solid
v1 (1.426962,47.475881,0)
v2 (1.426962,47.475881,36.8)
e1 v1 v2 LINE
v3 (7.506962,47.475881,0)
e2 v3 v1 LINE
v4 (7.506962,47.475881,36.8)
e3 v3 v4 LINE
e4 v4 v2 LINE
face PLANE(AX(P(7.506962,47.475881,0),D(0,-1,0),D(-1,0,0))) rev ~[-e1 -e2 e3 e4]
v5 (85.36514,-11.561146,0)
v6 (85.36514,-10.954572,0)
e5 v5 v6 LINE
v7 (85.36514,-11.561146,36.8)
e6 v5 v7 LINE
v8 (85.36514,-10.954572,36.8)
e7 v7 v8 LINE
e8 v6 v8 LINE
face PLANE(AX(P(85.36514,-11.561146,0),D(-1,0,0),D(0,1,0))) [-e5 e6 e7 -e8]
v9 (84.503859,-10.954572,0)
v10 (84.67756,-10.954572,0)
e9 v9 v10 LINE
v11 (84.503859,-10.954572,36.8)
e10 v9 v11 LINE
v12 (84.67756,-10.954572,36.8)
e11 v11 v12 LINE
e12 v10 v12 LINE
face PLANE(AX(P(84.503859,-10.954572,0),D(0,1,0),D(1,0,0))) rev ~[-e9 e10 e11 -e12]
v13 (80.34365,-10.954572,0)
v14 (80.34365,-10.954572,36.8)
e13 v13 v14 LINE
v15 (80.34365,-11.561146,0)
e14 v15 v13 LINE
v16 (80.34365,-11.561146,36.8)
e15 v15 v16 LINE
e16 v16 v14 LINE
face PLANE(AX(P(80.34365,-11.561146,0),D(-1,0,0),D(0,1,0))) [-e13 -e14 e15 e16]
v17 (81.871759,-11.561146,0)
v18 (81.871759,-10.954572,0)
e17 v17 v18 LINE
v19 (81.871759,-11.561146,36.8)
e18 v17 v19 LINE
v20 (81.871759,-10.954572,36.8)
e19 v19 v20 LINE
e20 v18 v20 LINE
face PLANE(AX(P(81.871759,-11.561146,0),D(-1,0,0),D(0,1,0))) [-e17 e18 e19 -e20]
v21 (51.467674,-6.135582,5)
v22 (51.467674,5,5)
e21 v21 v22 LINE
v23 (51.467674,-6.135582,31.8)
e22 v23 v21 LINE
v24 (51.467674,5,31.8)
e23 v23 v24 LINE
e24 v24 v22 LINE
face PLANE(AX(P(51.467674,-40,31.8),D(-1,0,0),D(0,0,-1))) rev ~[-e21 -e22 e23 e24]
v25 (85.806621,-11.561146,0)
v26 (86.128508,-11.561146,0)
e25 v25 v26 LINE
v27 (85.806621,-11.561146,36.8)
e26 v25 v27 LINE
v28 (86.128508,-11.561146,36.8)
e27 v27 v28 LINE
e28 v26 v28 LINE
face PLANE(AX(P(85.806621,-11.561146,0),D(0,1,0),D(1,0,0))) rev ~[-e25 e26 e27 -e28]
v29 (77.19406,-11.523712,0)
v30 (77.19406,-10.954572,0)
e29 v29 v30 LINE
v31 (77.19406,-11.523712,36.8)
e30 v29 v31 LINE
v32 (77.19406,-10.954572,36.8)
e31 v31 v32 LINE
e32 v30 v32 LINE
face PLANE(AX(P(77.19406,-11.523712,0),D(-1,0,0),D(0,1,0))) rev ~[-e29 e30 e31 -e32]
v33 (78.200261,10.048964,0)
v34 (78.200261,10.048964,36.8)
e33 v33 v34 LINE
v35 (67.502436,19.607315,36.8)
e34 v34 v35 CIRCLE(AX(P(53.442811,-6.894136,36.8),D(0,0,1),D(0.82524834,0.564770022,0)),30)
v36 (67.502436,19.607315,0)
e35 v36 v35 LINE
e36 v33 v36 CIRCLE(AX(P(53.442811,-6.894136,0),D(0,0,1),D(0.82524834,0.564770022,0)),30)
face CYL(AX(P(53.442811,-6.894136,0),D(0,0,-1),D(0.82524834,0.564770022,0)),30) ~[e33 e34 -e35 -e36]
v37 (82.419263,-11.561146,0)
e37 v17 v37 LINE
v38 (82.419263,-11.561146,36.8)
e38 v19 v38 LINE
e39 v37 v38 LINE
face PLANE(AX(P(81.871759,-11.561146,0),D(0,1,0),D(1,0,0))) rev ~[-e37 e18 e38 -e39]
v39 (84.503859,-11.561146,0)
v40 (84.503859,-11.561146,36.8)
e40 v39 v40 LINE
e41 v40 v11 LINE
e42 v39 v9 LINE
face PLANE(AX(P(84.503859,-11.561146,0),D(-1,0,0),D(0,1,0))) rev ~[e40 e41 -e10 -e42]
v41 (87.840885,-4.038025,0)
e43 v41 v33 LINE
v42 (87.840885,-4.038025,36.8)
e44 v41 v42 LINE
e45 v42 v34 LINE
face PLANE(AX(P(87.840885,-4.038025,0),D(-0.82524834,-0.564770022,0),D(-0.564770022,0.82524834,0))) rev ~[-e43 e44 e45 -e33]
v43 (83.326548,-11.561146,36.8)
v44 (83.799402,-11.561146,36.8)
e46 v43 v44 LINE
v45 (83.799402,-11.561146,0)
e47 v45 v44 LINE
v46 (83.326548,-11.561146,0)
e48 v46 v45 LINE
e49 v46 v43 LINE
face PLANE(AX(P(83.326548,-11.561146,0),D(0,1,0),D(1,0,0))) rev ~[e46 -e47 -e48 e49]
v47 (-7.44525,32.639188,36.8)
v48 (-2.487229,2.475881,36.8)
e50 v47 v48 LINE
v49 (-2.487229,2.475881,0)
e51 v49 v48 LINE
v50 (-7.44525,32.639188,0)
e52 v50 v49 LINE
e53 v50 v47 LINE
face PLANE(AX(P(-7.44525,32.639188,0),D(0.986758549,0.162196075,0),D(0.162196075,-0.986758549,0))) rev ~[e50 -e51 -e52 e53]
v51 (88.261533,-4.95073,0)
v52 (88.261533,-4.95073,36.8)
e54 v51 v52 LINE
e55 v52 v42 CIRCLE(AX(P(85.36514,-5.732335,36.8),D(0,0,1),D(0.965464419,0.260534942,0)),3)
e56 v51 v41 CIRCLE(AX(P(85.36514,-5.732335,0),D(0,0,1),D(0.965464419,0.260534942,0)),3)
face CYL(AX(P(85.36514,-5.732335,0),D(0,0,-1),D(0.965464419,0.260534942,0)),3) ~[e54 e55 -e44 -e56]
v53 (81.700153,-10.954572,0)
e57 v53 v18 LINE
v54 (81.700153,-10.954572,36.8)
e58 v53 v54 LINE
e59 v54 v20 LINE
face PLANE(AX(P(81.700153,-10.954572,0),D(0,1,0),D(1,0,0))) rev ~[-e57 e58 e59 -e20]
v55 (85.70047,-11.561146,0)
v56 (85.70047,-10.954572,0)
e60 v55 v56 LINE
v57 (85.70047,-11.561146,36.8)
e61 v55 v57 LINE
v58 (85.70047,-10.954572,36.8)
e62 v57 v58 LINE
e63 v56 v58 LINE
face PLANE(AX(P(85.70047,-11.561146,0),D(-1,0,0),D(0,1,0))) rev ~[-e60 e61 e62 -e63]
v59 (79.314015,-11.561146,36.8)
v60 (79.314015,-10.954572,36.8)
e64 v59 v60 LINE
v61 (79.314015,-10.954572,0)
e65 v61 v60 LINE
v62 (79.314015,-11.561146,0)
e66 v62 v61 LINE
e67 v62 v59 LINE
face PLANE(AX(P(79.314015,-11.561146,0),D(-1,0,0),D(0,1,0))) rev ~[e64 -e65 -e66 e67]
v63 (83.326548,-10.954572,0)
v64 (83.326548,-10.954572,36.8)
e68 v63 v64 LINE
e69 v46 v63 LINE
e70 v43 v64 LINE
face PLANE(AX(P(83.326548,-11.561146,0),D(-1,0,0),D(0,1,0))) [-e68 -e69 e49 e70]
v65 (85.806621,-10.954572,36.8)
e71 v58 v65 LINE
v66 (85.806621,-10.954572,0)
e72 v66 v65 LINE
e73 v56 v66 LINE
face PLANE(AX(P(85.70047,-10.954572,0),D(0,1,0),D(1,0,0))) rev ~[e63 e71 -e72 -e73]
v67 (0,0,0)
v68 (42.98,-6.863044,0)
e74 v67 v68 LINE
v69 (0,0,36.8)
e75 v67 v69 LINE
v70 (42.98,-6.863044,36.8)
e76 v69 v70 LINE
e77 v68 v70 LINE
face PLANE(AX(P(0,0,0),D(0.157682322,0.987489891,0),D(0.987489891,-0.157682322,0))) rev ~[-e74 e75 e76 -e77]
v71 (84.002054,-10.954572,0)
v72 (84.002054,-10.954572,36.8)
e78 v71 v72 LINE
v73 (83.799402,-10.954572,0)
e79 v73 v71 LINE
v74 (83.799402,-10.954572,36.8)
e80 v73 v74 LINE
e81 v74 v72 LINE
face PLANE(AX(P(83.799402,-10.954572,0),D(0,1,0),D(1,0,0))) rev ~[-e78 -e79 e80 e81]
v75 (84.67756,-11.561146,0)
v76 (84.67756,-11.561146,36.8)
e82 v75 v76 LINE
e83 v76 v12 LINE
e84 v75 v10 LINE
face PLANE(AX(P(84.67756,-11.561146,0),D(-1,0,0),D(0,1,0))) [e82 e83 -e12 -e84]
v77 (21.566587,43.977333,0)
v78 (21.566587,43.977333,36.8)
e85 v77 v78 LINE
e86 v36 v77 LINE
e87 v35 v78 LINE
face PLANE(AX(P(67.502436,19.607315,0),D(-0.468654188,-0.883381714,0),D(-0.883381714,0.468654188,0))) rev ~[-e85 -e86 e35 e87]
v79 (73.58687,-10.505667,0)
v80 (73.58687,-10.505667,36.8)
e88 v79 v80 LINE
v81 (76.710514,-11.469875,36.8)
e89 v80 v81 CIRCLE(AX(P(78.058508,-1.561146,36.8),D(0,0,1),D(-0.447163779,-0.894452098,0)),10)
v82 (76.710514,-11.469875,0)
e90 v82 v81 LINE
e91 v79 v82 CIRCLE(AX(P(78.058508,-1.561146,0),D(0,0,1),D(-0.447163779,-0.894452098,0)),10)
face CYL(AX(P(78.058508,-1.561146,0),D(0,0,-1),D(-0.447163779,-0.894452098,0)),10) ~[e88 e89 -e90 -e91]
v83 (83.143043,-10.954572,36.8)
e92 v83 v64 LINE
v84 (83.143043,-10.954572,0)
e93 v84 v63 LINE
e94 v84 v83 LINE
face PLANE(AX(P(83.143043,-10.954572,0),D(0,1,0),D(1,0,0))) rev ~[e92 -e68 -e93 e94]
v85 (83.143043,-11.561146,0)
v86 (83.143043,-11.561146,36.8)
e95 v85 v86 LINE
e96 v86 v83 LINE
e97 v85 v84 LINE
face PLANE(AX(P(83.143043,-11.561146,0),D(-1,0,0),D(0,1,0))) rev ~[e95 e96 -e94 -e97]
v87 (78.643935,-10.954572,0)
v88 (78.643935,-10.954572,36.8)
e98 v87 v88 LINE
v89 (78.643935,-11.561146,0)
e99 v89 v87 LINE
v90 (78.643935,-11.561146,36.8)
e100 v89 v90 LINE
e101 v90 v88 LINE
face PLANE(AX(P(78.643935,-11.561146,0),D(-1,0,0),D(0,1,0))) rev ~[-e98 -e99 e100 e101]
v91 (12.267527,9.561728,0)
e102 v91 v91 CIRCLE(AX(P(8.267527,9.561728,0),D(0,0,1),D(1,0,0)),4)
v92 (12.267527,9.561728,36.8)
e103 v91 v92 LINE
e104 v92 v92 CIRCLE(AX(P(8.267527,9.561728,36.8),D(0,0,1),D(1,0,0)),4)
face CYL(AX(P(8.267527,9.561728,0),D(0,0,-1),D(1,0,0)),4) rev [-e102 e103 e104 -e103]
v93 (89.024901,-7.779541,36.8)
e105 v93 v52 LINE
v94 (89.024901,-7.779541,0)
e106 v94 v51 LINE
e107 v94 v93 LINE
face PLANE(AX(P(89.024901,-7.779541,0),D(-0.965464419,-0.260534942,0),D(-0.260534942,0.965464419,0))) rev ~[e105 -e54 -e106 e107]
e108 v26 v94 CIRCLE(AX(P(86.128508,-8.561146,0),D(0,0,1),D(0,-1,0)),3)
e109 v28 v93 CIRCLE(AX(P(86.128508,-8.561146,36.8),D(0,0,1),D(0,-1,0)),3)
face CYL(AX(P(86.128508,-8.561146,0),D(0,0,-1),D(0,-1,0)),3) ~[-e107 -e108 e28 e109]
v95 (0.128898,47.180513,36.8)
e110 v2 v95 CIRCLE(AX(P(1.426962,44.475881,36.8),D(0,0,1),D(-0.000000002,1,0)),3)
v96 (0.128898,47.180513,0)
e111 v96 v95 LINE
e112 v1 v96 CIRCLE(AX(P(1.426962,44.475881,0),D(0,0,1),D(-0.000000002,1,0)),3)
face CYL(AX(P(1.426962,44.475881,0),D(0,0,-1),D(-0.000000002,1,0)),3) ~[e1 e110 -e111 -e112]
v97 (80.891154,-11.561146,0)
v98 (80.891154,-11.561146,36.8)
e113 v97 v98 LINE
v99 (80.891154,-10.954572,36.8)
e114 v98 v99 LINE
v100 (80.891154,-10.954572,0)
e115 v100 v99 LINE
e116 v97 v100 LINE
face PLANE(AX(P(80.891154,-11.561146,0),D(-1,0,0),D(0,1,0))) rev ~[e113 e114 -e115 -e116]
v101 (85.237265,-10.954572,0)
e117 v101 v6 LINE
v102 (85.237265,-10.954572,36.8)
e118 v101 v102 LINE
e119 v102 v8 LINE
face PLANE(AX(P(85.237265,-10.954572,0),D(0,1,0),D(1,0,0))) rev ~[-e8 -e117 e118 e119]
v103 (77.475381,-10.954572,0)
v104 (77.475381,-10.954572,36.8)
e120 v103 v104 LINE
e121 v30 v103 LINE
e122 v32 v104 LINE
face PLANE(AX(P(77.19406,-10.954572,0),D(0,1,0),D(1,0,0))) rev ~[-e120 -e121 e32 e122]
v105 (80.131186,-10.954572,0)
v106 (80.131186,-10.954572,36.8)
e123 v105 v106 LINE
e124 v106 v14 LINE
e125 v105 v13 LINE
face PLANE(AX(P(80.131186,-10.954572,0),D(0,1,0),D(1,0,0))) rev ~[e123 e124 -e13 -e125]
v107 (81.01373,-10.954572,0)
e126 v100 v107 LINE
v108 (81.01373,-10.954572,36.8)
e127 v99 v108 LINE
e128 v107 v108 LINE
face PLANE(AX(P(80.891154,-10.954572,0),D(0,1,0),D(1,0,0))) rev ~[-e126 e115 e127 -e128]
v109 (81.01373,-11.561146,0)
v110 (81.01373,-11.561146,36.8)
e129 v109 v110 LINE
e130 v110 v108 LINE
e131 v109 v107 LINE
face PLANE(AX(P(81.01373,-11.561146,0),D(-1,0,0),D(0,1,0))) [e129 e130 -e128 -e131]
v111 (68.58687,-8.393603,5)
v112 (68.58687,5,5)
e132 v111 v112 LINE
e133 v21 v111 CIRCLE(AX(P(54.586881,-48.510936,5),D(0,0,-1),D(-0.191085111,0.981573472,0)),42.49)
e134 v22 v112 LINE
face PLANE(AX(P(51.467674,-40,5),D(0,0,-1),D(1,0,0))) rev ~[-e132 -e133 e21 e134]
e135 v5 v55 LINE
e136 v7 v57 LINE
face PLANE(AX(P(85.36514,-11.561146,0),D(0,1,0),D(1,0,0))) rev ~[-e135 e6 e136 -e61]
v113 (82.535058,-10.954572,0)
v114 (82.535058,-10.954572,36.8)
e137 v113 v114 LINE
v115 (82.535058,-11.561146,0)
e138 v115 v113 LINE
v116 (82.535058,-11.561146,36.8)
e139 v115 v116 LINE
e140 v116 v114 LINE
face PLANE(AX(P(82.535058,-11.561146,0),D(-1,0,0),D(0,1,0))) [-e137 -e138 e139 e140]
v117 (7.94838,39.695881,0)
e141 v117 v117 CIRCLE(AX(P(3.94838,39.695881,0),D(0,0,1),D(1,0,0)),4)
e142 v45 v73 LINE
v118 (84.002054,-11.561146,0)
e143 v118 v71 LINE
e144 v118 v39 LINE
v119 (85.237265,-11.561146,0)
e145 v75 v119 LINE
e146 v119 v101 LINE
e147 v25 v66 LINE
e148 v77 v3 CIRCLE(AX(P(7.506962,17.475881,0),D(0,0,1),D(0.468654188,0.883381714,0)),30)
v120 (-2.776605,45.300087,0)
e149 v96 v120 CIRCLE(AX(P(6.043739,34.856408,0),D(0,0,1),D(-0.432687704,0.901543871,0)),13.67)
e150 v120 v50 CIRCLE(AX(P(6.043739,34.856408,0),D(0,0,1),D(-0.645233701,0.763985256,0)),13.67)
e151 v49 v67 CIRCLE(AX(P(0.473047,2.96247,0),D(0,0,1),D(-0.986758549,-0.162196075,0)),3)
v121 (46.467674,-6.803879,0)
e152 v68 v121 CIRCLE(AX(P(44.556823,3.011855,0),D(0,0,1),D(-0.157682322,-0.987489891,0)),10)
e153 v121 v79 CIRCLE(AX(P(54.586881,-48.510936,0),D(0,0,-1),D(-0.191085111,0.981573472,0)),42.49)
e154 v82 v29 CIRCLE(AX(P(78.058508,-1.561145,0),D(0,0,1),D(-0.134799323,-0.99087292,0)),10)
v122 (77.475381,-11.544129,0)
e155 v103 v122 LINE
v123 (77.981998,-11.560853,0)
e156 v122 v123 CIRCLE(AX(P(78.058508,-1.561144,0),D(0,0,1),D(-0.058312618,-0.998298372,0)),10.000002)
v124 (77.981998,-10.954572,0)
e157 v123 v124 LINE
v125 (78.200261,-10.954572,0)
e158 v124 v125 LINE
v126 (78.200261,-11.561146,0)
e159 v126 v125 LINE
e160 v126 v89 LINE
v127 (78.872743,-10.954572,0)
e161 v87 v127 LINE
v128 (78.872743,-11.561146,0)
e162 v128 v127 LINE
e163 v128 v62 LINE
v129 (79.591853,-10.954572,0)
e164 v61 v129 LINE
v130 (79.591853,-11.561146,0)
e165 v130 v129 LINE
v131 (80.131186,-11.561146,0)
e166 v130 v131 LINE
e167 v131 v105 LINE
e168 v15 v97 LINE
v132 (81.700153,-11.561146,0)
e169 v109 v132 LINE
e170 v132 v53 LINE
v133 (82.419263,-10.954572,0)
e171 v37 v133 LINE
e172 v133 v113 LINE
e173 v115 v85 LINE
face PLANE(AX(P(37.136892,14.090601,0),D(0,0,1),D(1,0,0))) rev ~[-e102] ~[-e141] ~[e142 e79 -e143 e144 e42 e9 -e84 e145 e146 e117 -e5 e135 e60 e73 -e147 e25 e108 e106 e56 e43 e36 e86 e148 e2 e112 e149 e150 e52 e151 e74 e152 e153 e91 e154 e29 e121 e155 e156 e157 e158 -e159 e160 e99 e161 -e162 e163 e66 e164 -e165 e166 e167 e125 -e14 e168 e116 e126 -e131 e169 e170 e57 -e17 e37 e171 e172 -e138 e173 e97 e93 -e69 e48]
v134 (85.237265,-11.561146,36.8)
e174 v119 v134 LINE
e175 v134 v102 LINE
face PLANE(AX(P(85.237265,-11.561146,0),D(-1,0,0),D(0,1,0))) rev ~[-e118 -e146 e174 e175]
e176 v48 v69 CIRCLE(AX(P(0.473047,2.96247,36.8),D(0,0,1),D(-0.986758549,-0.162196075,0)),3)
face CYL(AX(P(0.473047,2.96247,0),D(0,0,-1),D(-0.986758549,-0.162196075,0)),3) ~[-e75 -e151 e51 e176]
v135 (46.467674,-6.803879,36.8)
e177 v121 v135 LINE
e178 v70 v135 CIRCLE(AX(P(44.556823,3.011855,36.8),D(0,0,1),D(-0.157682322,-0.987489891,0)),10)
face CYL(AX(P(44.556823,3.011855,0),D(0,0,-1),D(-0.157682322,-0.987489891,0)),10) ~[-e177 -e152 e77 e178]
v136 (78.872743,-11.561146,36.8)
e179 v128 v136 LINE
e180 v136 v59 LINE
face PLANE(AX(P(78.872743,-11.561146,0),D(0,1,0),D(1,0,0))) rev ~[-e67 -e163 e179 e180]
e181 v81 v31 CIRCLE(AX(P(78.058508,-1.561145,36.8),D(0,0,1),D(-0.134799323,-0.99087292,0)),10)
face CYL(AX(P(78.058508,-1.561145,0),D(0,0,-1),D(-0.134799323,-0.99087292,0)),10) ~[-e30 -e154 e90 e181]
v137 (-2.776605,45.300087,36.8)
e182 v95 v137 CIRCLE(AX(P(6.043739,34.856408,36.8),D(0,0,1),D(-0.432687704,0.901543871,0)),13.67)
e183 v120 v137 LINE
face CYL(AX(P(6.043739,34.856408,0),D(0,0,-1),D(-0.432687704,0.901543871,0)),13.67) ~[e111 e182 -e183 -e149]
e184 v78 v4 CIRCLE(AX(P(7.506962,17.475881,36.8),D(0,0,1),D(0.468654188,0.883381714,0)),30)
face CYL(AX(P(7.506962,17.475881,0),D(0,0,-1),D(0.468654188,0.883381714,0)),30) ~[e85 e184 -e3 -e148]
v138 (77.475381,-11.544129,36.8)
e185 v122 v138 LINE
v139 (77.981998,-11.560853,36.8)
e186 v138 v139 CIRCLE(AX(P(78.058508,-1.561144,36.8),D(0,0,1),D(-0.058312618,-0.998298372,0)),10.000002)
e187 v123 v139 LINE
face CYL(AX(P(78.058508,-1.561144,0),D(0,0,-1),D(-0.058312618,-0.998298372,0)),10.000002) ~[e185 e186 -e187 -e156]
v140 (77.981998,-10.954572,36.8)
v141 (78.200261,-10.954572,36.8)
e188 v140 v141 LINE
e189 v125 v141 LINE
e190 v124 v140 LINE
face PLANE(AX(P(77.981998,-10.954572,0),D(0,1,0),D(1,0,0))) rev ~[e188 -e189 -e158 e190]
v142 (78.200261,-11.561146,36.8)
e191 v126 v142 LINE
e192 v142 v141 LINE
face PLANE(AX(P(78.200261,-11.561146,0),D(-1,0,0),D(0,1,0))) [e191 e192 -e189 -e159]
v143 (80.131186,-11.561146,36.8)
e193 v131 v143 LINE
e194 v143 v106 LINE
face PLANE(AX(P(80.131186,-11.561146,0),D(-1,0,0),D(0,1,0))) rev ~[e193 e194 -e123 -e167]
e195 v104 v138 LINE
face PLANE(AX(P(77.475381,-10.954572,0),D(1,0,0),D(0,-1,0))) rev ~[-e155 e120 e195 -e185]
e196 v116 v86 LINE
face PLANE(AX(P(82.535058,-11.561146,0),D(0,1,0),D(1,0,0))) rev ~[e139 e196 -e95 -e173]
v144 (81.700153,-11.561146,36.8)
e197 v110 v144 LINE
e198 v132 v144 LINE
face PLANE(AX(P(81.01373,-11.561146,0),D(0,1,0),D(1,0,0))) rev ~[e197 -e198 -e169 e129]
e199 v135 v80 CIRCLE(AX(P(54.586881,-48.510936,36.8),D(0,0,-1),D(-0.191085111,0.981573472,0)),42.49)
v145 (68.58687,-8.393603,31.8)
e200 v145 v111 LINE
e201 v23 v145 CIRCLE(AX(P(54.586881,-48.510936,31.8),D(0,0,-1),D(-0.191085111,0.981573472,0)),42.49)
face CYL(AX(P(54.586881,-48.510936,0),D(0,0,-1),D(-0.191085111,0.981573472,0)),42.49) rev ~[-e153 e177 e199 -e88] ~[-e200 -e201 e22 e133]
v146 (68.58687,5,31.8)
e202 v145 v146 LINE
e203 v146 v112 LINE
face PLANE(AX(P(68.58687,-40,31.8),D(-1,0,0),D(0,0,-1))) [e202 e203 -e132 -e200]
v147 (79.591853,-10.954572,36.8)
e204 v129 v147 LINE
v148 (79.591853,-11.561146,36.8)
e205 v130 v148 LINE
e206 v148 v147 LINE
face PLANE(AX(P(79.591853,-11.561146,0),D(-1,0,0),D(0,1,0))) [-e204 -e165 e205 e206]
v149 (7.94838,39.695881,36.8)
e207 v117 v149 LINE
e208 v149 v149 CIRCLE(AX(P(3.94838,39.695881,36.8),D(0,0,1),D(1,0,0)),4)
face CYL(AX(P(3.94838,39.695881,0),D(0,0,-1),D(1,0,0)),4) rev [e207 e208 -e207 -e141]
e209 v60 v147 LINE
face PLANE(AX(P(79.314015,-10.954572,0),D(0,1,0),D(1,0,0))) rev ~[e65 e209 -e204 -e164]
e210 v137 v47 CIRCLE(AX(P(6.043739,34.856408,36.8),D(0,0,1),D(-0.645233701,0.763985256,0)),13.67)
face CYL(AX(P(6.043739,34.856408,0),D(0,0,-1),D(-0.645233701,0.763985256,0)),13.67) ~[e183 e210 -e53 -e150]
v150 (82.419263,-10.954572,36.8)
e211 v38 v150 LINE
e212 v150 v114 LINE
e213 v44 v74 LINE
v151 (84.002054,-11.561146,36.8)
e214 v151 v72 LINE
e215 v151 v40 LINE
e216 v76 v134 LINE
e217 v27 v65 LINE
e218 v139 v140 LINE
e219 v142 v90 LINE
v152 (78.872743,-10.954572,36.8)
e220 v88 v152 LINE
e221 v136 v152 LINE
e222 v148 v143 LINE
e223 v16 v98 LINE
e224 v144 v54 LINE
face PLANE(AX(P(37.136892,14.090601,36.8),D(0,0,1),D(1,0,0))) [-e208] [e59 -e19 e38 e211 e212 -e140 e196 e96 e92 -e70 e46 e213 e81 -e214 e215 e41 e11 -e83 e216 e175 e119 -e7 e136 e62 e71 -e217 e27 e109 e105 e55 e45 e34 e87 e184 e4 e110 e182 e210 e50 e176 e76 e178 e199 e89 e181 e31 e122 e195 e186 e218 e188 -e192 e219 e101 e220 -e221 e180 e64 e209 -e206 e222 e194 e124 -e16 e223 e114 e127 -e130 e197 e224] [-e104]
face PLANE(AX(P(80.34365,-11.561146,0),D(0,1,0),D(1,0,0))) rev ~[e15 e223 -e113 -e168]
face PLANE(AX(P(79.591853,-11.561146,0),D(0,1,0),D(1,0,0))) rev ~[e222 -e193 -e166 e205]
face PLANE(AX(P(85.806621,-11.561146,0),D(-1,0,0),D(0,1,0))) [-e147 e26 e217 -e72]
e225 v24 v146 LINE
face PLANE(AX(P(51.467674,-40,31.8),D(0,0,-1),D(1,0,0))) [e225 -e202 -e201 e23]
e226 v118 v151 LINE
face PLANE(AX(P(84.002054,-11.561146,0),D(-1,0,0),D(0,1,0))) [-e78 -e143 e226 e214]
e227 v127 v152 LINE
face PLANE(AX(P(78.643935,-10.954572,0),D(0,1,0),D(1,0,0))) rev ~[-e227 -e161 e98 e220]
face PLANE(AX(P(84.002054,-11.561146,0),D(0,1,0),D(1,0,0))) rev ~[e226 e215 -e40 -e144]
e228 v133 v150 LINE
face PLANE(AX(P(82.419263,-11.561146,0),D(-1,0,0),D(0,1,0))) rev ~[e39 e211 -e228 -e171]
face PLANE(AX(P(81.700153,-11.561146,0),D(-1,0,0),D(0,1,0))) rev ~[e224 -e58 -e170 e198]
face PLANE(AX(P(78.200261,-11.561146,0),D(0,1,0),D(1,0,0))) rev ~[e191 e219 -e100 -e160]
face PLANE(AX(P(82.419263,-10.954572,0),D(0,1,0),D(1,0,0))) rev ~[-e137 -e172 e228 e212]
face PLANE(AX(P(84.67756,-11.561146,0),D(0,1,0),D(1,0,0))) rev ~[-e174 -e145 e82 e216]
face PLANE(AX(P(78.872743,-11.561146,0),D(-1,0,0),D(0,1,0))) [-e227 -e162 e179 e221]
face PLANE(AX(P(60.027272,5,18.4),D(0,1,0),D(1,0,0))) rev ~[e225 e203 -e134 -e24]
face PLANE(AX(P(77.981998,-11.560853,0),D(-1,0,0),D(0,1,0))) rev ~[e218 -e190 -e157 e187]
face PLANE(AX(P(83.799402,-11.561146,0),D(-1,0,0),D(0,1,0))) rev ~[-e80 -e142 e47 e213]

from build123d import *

# Parameters (mm, degrees)
SKETCH1_R           = 4
SKETCH1_W           = 0.443674292
SKETCH1_H           = 0.606573965
SKETCH1_W_2         = 0.441272097
SKETCH1_W_3         = 0.539332563
SKETCH1_W_4         = 0.547504268
SKETCH1_W_5         = 0.686423262
SKETCH1_W_6         = 0.607984695
SKETCH1_W_7         = 0.472854348
SKETCH1_W_8         = 0.501804613
SKETCH1_W_9         = 0.559705146
SKETCH1_W_10        = 0.321886919
SKETCH1_W_11        = 0.335329484
BOSS_EXTRUDE1_DEPTH = 36.8
SKETCH2_W           = 17.119195375
SKETCH2_H           = 26.8
CUT_EXTRUDE1_DEPTH  = 45


with BuildPart() as part:
    # Sketch1 → Boss-Extrude1 (new body)
    with BuildSketch(Plane.XY):
        with BuildLine():
            ThreePointArc((-2.487228681, 2.47588145), (-1.643417841, 0.836304882), (0, 0))
            Line((0, 0), (42.98, -6.863043607))
            ThreePointArc((42.98, -6.863043607), (44.726436776, -6.986706153), (46.46767433, -6.803879411))
            ThreePointArc((46.46767433, -6.803879411), (60.333502735, -6.411334854), (73.586869705, -10.505666612))
            ThreePointArc((73.586869705, -10.505666612), (75.109024375, -11.116277731), (76.710514264, -11.469874834))
            Line((76.710514264, -11.469874834), (76.710514264, -10.954571675))
            Line((76.710514264, -10.954571675), (77.19406036, -10.954571675))
            Line((77.19406036, -10.954571675), (77.47538128, -10.954571675))
            Line((77.47538128, -10.954571675), (77.981998439, -10.954571675))
            Line((77.981998439, -10.954571675), (78.200260874, -10.954571675))
            Line((78.200260874, -10.954571675), (78.643935166, -10.954571675))
            Line((78.643935166, -10.954571675), (78.872742919, -10.954571675))
            Line((78.872742919, -10.954571675), (79.314015016, -10.954571675))
            Line((79.314015016, -10.954571675), (79.591853003, -10.954571675))
            Line((79.591853003, -10.954571675), (80.131185566, -10.954571675))
            Line((80.131185566, -10.954571675), (80.343649909, -10.954571675))
            Line((80.343649909, -10.954571675), (80.891154177, -10.954571675))
            Line((80.891154177, -10.954571675), (81.013729759, -10.954571675))
            Line((81.013729759, -10.954571675), (81.700153021, -10.954571675))
            Line((81.700153021, -10.954571675), (81.871758836, -10.954571675))
            Line((81.871758836, -10.954571675), (82.419263104, -10.954571675))
            Line((82.419263104, -10.954571675), (82.535057995, -10.954571675))
            Line((82.535057995, -10.954571675), (83.14304269, -10.954571675))
            Line((83.14304269, -10.954571675), (83.326547781, -10.954571675))
            Line((83.326547781, -10.954571675), (83.799402129, -10.954571675))
            Line((83.799402129, -10.954571675), (84.002053992, -10.954571675))
            Line((84.002053992, -10.954571675), (84.503858605, -10.954571675))
            Line((84.503858605, -10.954571675), (84.677560202, -10.954571675))
            Line((84.677560202, -10.954571675), (85.237265348, -10.954571675))
            Line((85.237265348, -10.954571675), (85.365140123, -10.954571675))
            Line((85.365140123, -10.954571675), (85.700469607, -10.954571675))
            Line((85.700469607, -10.954571675), (85.806620583, -10.954571675))
            Line((85.806620583, -10.954571675), (86.128507502, -10.954571675))
            Line((86.128507502, -10.954571675), (86.128507502, -11.56114564))
            ThreePointArc((86.128507502, -11.56114564), (88.510189101, -10.385314701), (89.024900759, -7.779540815))
            Line((89.024900759, -7.779540815), (88.261533379, -4.950730067))
            ThreePointArc((88.261533379, -4.950730067), (88.089699744, -4.476637927), (87.840885143, -4.038024828))
            Line((87.840885143, -4.038024828), (78.200260874, 10.048964336))
            ThreePointArc((78.200260874, 10.048964336), (73.431103782, 15.477008911), (67.502436306, 19.607315102))
            Line((67.502436306, 19.607315102), (21.566587187, 43.977332864))
            ThreePointArc((21.566587187, 43.977332864), (14.751147415, 46.588108627), (7.506961555, 47.47588145))
            Line((7.506961555, 47.47588145), (1.426961555, 47.47588145))
            ThreePointArc((1.426961555, 47.47588145), (0.761339604, 47.401107495), (0.128898443, 47.180513062))
            ThreePointArc((0.128898443, 47.180513062), (-1.383603673, 46.332621816), (-2.77660534, 45.300086793))
            ThreePointArc((-2.77660534, 45.300086793), (-6.782062218, 39.585860112), (-7.445250004, 32.639188007))
            Line((-7.445250004, 32.639188007), (-2.487228681, 2.47588145))
        make_face()
        with Locations((8.267526818, 9.561727541)):
            Circle(SKETCH1_R, mode=Mode.SUBTRACT)
        with Locations((3.948380067, 39.69588145)):
            Circle(SKETCH1_R, mode=Mode.SUBTRACT)
        with BuildLine():
            Line((76.710514264, -10.954571675), (76.710514264, -11.469874834))
            ThreePointArc((76.710514264, -11.469874834), (76.951959843, -11.499734689), (77.19406036, -11.523712134))
            Line((77.19406036, -11.523712134), (77.19406036, -10.954571675))
            Line((77.19406036, -10.954571675), (76.710514264, -10.954571675))
        make_face()
        with BuildLine():
            Line((77.47538128, -10.954571675), (77.47538128, -11.544129353))
            ThreePointArc((77.47538128, -11.544129353), (77.728583879, -11.555701678), (77.981998439, -11.560852954))
            Line((77.981998439, -11.560852954), (77.981998439, -10.954571675))
            Line((77.981998439, -10.954571675), (77.47538128, -10.954571675))
        make_face()
        with Locations((78.42209802, -11.257858658)):
            Rectangle(SKETCH1_W, SKETCH1_H)
        with Locations((79.093378968, -11.257858658)):
            Rectangle(SKETCH1_W_2, SKETCH1_H)
        with Locations((79.861519285, -11.257858658)):
            Rectangle(SKETCH1_W_3, SKETCH1_H)
        with Locations((80.617402043, -11.257858658)):
            Rectangle(SKETCH1_W_4, SKETCH1_H)
        with Locations((81.35694139, -11.257858658)):
            Rectangle(SKETCH1_W_5, SKETCH1_H)
        with Locations((82.14551097, -11.257858658)):
            Rectangle(SKETCH1_W_4, SKETCH1_H)
        with Locations((82.839050343, -11.257858658)):
            Rectangle(SKETCH1_W_6, SKETCH1_H)
        with Locations((83.562974955, -11.257858658)):
            Rectangle(SKETCH1_W_7, SKETCH1_H)
        with Locations((84.252956299, -11.257858658)):
            Rectangle(SKETCH1_W_8, SKETCH1_H)
        with Locations((84.957412775, -11.257858658)):
            Rectangle(SKETCH1_W_9, SKETCH1_H)
        with Locations((85.967564043, -11.257858658)):
            Rectangle(SKETCH1_W_10, SKETCH1_H)
        with Locations((85.532804865, -11.257858658)):
            Rectangle(SKETCH1_W_11, SKETCH1_H)
    extrude(amount=BOSS_EXTRUDE1_DEPTH)

    # Sketch2 → Cut-Extrude1 (cut)
    with BuildSketch(Plane(origin=(0, -40, 0), x_dir=(1, 0, 0), z_dir=(0, 1, 0))):
        with Locations((60.027272017, -18.4)):
            Rectangle(SKETCH2_W, SKETCH2_H)
    extrude(amount=CUT_EXTRUDE1_DEPTH, mode=Mode.SUBTRACT)


solid = part.part
